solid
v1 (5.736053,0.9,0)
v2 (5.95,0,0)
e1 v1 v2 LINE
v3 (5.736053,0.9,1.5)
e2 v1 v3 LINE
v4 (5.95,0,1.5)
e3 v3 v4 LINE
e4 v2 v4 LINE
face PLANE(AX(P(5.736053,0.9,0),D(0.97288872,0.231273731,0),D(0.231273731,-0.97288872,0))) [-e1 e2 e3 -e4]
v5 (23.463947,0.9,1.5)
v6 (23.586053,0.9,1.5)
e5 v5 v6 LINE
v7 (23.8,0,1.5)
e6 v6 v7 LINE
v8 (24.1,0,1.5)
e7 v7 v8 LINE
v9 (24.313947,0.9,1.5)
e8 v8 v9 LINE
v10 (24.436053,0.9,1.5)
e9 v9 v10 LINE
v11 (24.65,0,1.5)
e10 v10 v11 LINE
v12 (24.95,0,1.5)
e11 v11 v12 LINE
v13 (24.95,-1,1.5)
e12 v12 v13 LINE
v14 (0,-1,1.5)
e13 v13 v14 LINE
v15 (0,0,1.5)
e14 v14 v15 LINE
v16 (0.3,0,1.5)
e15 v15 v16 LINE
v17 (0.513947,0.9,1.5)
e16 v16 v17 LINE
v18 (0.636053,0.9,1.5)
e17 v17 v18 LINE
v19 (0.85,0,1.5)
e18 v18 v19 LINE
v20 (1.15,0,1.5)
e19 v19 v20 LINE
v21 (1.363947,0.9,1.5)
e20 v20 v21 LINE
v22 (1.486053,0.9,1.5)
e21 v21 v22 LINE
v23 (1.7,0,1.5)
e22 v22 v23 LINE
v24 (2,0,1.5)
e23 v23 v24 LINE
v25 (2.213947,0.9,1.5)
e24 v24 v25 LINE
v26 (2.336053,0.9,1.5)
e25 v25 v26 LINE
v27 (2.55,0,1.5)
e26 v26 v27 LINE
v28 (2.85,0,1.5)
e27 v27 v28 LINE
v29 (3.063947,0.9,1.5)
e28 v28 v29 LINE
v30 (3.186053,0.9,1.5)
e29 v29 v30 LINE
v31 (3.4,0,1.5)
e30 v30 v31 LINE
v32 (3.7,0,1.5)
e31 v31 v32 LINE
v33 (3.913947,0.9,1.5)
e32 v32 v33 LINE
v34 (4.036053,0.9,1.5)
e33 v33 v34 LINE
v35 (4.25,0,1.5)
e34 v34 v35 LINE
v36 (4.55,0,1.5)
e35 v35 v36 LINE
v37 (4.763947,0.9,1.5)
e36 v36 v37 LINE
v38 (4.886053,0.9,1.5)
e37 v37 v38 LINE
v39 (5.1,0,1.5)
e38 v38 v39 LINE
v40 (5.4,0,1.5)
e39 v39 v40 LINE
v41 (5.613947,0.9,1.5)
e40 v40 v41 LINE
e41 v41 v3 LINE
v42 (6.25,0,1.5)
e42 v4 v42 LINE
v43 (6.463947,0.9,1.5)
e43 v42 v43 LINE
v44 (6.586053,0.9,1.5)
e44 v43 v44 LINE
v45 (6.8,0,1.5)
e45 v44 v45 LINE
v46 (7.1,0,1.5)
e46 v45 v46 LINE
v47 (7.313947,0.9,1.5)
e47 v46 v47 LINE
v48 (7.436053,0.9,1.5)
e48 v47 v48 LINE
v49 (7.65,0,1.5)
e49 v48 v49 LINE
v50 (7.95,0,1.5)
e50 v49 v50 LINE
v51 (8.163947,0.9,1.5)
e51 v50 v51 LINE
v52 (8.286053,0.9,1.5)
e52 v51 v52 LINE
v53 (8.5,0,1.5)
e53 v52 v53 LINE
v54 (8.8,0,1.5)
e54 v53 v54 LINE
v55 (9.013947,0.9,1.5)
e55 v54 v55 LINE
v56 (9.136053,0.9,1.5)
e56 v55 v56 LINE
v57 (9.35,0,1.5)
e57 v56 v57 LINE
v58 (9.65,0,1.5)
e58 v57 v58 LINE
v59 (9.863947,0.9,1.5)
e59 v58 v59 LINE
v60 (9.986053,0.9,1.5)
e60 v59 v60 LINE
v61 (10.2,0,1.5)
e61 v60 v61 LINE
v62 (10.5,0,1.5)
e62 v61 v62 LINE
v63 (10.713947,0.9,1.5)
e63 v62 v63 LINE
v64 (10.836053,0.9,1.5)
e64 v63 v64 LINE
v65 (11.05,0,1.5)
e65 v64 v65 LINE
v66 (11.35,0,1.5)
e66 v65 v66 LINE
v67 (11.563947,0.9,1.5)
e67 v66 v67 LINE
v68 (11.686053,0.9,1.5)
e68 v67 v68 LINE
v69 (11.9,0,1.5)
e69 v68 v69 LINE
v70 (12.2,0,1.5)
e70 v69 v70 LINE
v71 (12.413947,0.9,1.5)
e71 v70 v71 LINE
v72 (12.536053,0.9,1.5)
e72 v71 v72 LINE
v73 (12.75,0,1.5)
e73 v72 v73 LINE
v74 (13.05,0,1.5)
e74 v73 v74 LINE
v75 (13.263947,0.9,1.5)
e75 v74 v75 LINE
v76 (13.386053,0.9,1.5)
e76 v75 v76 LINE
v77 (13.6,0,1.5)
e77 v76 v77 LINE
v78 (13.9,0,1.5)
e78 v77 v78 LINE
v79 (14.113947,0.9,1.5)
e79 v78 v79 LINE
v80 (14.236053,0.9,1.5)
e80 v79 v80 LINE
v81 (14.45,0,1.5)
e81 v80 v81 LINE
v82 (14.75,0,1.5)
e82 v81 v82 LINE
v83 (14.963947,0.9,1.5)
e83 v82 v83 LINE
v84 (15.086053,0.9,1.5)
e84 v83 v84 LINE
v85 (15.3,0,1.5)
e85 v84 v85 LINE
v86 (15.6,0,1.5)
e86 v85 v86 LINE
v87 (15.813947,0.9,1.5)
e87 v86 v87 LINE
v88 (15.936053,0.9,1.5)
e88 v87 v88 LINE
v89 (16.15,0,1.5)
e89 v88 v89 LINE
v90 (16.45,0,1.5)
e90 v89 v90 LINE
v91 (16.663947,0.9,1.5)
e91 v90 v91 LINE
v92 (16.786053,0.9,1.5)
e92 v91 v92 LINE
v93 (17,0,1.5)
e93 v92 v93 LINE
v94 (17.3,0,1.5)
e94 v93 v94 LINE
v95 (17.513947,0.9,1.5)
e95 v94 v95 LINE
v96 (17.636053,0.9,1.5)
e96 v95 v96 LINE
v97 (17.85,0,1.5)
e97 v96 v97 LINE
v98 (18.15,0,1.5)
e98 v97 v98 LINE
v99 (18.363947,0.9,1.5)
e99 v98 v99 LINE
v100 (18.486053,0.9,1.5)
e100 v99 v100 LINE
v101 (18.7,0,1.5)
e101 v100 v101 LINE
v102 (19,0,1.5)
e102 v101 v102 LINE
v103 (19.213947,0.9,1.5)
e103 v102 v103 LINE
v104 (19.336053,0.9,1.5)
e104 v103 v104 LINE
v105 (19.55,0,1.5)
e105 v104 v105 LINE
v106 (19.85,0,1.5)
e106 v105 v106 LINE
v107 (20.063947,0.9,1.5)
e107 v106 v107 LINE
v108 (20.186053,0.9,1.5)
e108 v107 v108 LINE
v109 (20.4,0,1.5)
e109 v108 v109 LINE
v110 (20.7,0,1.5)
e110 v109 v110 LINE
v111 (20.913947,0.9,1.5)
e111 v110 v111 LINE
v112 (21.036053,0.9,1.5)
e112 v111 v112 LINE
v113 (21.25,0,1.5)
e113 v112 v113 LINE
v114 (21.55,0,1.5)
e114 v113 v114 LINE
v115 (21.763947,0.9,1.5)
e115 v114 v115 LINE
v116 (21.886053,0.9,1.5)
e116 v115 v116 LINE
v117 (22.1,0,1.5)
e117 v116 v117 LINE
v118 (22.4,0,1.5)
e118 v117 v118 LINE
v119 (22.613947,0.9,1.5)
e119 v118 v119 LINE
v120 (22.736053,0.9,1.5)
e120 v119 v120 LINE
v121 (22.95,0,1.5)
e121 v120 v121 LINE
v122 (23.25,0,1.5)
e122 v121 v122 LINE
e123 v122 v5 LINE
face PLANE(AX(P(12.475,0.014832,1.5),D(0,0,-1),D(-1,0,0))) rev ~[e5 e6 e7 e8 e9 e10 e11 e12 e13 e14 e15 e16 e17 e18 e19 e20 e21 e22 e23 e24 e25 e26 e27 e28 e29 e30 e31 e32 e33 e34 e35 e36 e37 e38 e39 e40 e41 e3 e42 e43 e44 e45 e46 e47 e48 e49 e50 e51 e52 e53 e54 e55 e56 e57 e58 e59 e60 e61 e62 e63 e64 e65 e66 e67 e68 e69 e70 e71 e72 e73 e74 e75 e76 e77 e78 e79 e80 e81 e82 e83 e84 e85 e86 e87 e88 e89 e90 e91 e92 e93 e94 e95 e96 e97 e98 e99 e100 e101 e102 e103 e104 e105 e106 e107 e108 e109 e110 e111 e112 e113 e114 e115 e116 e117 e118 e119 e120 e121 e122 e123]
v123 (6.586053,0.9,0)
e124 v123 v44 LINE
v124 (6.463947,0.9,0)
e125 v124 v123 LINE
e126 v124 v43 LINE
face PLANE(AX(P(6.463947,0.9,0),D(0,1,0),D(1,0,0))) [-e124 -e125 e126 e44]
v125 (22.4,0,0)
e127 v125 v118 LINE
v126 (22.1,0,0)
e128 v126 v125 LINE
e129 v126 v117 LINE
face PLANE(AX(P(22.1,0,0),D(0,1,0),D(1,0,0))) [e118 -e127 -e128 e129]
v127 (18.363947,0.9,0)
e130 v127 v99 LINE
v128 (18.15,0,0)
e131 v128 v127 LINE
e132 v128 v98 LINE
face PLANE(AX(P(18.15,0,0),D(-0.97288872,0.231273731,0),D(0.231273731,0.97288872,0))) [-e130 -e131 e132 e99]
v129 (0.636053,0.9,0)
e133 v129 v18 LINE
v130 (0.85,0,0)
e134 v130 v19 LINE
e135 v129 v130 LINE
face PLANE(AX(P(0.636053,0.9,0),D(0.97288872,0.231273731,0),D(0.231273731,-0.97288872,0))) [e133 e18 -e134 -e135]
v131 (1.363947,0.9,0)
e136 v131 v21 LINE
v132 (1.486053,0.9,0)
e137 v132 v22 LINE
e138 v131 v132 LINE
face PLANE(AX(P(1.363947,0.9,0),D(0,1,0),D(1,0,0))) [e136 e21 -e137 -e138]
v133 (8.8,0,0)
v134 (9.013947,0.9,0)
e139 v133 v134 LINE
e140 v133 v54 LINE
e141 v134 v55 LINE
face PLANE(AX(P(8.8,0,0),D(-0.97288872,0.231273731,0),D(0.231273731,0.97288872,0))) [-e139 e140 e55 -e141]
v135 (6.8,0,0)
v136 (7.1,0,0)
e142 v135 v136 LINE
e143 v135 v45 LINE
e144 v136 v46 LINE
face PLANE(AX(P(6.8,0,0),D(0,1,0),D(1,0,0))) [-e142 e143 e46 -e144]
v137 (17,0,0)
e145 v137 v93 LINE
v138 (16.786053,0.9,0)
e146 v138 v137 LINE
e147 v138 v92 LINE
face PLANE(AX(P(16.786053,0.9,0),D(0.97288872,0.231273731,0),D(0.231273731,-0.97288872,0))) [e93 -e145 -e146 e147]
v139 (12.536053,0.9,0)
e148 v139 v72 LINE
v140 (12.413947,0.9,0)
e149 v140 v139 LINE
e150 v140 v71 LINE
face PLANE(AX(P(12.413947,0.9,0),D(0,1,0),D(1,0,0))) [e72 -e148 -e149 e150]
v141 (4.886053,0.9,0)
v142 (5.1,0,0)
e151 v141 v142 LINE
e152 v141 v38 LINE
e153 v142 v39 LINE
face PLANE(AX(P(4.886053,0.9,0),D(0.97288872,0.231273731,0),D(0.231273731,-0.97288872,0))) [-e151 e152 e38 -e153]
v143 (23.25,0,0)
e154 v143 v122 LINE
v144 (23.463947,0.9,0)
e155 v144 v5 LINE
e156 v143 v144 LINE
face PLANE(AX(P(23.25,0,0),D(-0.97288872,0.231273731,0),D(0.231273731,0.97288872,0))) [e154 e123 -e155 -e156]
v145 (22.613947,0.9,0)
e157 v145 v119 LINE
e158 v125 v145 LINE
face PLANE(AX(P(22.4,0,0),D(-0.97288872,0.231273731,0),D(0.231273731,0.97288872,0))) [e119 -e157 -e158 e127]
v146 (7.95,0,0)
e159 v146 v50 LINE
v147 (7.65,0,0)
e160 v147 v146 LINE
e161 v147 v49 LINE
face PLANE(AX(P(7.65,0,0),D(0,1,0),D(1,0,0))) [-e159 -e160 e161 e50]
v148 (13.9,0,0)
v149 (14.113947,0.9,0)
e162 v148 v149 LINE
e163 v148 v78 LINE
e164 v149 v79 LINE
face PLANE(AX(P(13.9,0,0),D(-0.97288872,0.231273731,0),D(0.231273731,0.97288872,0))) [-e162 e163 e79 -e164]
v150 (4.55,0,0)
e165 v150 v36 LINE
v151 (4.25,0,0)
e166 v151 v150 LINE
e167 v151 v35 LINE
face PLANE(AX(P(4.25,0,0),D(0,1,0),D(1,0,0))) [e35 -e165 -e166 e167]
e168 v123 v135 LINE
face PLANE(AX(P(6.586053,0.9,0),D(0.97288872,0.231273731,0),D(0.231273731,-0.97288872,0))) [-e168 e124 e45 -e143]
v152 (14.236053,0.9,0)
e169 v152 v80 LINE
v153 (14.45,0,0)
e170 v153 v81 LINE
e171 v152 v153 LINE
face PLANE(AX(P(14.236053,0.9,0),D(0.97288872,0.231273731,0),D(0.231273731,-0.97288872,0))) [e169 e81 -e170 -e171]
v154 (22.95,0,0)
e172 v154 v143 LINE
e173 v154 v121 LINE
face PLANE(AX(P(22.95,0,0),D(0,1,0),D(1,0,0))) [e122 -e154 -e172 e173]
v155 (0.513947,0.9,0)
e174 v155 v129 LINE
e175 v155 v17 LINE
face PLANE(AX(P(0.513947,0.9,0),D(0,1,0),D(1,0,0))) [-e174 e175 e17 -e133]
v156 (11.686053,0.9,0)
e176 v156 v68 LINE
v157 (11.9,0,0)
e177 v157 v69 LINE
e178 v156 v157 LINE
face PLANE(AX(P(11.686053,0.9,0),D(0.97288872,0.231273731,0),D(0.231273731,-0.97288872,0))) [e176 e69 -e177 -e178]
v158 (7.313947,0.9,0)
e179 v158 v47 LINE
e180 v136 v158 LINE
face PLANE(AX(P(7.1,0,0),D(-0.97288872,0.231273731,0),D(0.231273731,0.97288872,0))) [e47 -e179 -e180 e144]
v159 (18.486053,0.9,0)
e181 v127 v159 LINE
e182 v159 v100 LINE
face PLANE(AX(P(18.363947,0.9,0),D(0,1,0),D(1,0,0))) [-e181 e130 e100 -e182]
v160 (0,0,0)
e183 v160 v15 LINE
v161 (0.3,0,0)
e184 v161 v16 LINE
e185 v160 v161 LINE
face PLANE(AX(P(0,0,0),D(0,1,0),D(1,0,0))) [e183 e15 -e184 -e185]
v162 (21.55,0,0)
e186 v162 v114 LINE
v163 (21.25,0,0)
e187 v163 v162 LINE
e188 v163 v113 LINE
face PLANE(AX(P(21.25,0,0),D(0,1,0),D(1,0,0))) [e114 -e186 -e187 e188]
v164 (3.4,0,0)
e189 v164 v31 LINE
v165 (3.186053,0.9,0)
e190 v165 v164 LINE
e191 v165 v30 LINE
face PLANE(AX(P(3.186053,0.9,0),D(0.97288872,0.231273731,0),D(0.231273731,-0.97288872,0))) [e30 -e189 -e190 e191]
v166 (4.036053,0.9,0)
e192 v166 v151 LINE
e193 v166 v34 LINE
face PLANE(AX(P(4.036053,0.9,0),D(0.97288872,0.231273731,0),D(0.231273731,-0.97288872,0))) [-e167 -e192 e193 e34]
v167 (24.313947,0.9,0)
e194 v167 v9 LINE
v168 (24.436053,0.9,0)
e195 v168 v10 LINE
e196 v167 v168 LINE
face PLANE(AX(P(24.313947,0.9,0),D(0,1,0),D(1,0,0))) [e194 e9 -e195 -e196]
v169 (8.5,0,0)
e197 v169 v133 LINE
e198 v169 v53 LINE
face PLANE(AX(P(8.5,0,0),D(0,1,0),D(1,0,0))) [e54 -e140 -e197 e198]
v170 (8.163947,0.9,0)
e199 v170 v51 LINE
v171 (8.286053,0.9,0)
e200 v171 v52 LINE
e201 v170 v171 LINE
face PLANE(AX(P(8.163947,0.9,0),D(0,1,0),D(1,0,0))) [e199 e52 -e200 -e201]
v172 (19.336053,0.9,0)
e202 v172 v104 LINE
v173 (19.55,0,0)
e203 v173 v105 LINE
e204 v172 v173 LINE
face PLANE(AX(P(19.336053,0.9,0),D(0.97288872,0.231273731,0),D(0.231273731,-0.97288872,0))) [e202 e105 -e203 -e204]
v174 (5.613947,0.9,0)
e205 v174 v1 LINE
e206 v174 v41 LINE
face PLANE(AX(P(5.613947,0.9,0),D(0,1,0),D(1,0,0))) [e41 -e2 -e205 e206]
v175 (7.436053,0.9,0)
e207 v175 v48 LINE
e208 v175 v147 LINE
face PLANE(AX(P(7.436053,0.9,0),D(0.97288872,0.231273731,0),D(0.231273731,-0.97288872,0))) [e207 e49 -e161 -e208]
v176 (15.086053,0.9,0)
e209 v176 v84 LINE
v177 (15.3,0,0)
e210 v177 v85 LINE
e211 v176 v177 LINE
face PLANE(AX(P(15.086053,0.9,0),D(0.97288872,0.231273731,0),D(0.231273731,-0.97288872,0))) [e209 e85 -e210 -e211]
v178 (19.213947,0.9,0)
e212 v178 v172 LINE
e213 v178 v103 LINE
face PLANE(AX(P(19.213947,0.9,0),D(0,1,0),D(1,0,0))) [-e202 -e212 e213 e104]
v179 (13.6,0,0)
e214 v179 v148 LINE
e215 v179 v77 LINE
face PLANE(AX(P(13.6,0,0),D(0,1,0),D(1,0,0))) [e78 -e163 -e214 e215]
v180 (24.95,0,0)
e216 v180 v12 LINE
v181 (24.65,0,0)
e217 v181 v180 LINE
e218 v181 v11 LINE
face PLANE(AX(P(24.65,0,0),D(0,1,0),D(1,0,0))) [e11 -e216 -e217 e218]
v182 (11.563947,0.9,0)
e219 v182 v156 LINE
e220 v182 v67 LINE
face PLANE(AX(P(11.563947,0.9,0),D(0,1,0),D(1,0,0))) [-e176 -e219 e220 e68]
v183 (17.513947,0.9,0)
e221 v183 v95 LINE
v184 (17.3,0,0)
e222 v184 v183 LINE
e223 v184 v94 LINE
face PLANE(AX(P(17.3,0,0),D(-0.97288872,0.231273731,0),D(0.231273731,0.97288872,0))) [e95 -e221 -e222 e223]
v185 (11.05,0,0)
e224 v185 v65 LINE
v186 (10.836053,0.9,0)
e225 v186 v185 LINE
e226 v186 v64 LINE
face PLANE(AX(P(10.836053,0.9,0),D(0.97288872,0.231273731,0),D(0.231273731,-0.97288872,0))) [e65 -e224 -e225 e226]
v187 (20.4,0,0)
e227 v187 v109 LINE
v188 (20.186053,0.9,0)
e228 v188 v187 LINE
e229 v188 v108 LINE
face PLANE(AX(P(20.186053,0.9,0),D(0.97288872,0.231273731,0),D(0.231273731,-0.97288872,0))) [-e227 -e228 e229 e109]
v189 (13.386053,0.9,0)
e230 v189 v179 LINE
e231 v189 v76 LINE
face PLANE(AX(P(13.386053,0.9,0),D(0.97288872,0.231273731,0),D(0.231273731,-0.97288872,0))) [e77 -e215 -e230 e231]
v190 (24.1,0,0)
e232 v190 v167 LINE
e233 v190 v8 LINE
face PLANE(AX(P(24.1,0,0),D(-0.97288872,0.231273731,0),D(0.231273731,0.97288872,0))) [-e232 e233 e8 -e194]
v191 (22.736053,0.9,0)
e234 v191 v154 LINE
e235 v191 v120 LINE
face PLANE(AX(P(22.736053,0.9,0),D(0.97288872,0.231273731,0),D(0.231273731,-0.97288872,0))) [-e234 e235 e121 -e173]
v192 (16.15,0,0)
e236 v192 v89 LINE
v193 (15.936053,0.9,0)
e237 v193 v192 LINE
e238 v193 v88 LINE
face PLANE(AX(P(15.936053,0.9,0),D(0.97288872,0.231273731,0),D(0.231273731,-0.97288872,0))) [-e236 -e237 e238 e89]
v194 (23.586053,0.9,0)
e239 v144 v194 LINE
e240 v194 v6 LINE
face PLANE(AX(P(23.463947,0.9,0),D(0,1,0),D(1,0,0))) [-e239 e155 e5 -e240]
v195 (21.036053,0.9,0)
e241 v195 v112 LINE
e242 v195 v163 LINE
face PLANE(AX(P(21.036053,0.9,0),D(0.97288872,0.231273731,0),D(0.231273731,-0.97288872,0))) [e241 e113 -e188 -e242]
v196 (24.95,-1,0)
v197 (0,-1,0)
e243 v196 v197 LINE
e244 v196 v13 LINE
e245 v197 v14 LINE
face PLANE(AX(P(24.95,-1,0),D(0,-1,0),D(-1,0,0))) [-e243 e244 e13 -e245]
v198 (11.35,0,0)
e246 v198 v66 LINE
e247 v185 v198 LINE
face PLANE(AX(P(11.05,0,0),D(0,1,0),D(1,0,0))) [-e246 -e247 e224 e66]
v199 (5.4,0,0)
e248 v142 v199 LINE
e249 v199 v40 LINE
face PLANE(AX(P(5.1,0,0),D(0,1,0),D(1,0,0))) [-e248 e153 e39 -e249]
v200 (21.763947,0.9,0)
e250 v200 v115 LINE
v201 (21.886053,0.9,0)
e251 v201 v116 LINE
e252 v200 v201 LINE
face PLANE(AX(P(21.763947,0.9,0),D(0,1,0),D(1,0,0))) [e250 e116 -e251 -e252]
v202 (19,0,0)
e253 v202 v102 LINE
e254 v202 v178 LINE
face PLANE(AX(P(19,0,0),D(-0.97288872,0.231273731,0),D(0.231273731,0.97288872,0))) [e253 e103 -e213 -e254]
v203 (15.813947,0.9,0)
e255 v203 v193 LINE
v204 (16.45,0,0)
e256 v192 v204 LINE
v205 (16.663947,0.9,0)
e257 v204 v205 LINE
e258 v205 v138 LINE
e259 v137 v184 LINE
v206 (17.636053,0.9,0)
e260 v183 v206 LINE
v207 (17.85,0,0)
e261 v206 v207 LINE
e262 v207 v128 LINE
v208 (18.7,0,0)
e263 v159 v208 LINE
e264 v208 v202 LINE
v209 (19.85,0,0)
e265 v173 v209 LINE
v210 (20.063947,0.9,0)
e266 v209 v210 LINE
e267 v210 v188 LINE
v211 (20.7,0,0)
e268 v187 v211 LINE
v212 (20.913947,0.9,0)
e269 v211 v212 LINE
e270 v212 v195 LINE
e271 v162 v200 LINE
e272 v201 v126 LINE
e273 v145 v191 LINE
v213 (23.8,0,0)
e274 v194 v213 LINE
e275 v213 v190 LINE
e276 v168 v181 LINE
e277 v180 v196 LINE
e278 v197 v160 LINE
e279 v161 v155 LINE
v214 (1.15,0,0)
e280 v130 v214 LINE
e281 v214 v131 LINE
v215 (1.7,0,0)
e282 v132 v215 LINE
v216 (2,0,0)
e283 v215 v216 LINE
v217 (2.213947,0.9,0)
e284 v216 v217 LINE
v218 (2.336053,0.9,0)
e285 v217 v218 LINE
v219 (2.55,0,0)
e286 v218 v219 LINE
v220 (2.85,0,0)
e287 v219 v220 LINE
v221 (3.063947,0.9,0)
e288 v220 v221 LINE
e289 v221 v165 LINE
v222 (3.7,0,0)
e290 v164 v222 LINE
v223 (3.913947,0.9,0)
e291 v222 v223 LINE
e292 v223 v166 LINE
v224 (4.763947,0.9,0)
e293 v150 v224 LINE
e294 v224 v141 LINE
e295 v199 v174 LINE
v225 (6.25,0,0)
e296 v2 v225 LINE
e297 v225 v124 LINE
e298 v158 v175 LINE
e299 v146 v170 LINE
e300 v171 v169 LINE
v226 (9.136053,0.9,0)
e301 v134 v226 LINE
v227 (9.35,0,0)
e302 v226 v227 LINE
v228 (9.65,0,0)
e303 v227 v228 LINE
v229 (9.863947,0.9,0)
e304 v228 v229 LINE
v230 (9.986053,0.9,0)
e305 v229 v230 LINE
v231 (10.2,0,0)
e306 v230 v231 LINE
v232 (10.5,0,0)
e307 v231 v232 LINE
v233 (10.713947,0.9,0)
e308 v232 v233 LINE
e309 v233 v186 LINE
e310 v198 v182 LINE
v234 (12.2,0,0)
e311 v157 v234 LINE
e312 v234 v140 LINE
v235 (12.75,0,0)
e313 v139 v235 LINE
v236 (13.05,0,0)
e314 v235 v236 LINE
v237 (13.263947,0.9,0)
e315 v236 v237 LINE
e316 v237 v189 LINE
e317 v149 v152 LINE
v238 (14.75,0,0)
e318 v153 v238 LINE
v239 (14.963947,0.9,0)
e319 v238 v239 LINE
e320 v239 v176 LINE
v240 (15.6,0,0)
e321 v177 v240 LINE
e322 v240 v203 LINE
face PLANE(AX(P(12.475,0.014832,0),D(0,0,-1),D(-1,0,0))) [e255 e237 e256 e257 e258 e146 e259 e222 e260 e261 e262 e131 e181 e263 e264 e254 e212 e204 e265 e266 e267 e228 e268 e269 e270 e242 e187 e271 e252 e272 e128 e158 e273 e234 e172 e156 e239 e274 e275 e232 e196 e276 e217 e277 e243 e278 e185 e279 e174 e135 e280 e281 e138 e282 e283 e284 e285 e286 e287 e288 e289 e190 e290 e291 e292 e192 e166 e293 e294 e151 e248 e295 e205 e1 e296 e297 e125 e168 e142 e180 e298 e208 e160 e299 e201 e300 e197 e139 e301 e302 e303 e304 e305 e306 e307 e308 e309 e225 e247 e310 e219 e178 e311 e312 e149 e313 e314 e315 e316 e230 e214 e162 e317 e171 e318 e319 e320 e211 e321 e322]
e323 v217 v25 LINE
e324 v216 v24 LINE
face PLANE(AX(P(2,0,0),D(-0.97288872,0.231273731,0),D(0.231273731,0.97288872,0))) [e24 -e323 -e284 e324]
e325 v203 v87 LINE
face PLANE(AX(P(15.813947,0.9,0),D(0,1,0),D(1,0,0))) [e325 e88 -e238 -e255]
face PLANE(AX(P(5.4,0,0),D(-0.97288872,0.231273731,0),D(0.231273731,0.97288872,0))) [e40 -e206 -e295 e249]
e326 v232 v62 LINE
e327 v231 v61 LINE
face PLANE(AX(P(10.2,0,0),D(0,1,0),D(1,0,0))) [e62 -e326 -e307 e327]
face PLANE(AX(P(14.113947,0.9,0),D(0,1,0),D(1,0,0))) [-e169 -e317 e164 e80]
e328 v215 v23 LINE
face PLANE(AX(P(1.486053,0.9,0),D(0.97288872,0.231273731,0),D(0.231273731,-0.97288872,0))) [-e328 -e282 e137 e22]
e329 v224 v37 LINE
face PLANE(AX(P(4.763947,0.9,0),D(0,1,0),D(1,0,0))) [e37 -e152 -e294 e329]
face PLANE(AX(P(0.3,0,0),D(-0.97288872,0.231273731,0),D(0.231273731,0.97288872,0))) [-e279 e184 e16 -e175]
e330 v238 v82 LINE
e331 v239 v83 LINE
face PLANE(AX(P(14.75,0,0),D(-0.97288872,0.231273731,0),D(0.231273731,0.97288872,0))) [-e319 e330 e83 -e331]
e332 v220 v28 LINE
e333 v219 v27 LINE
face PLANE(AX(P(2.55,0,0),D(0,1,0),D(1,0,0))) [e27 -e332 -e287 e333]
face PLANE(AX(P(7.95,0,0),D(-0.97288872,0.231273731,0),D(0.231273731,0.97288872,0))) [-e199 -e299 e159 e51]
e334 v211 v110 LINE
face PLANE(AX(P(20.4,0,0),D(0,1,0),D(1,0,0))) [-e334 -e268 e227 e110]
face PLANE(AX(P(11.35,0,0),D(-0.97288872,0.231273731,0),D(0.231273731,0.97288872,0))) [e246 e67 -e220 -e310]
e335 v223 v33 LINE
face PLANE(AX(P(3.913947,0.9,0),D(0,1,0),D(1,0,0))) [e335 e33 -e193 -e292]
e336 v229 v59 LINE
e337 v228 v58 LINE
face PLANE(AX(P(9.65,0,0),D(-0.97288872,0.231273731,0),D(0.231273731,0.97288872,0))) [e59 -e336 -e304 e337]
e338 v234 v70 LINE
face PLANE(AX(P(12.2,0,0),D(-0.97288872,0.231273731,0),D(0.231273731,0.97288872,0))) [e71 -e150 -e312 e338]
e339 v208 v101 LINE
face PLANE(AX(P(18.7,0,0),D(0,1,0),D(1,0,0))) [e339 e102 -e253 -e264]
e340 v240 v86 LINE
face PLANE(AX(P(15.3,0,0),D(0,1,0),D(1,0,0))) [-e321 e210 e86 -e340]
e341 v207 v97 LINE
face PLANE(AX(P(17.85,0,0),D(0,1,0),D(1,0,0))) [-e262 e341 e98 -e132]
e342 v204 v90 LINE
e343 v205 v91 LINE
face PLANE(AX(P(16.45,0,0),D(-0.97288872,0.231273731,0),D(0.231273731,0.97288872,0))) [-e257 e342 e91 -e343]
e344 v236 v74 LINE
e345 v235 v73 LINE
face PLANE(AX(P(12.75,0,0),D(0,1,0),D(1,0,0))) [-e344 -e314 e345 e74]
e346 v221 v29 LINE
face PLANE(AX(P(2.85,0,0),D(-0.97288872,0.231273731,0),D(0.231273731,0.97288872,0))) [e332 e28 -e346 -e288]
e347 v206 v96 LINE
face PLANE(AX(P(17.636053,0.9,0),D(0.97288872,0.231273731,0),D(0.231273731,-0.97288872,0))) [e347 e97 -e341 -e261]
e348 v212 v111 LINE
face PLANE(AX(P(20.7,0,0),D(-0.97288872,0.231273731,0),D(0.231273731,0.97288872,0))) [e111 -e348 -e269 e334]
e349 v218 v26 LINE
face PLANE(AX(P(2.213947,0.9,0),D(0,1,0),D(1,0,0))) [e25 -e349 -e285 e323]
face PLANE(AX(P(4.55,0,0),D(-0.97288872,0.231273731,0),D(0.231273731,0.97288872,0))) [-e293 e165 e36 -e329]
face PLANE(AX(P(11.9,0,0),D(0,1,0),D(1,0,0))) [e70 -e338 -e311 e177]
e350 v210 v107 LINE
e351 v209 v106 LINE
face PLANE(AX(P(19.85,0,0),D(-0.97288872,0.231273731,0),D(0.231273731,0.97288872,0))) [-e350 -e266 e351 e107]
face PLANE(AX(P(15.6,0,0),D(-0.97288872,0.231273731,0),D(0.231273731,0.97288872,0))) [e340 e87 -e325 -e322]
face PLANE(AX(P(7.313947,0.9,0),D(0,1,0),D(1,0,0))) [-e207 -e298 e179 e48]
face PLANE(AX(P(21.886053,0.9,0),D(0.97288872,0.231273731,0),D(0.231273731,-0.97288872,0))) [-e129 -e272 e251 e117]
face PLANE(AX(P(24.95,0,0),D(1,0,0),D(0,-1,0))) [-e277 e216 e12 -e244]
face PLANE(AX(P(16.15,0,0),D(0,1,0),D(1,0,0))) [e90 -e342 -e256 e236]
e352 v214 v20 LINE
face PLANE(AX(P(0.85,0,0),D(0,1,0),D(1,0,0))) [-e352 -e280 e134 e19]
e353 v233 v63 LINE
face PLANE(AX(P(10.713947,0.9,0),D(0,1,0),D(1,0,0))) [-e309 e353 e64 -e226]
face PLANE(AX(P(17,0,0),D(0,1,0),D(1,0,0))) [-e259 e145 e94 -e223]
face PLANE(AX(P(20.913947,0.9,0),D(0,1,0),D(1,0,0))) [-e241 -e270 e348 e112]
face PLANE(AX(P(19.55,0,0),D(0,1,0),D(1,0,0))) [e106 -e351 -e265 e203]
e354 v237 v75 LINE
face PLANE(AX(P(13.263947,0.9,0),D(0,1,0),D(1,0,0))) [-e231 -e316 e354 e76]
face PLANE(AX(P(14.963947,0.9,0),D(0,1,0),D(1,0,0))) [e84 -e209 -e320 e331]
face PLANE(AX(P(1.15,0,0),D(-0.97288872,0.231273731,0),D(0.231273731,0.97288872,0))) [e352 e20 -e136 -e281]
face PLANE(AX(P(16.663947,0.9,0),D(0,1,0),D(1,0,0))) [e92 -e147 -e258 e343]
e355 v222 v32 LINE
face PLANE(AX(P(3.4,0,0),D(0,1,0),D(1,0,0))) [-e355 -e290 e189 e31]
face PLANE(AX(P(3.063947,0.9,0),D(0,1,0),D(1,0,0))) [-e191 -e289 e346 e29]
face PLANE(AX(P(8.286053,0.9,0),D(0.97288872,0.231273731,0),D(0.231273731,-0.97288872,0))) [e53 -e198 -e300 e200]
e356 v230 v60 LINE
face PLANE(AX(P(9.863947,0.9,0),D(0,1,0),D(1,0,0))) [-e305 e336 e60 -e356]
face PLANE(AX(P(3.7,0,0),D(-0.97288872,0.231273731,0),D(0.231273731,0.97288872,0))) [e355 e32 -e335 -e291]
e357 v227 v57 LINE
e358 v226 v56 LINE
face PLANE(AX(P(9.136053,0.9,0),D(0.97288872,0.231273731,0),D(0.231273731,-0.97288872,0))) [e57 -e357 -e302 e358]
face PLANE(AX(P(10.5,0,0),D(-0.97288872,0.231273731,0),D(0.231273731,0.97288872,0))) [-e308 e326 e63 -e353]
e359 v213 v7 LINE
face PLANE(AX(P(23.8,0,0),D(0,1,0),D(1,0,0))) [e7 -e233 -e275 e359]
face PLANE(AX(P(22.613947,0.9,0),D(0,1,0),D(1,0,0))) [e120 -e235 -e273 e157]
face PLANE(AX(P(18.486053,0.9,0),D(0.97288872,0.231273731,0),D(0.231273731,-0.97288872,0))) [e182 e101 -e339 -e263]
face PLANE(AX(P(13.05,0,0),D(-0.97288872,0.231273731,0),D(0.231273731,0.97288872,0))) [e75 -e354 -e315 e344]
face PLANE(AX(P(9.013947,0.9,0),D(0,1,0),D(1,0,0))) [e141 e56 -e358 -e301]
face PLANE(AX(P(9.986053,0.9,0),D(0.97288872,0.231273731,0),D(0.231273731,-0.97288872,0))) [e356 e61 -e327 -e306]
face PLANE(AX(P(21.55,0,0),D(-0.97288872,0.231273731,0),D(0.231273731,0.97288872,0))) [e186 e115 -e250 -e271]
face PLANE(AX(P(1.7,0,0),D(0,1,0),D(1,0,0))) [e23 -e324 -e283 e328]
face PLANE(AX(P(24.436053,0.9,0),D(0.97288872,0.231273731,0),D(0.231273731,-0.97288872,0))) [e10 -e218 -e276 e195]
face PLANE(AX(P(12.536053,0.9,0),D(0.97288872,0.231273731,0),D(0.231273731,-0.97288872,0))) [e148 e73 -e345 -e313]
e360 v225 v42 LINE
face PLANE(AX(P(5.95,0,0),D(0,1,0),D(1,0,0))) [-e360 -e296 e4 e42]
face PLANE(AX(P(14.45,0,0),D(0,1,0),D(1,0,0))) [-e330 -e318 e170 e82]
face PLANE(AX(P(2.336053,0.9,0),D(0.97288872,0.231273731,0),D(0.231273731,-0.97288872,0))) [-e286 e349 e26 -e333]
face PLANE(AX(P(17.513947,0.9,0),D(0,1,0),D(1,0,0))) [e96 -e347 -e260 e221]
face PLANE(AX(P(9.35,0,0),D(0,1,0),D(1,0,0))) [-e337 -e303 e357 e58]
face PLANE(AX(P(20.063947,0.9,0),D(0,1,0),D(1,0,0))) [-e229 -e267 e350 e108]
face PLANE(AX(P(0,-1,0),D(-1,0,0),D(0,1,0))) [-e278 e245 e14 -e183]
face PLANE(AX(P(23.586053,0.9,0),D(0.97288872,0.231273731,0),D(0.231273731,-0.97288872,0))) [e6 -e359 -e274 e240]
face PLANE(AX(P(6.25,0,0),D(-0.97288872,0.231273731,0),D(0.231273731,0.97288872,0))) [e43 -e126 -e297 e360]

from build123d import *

# Parameters (mm, degrees)
BOSS_EXTRUDE1_DEPTH = 1.5


with BuildPart() as part:
    # Sketch1 → Boss-Extrude1 (new body)
    with BuildSketch(Plane.XY):
        Polygon((0, 0), (0.3, 0), (0.513946728, 0.9), (0.636053272, 0.9), (0.85, 0), (1.15, 0), (1.363946728, 0.9), (1.486053272, 0.9), (1.7, 0), (2, 0), (2.213946728, 0.9), (2.336053272, 0.9), (2.55, 0), (2.85, 0), (3.063946728, 0.9), (3.186053272, 0.9), (3.4, 0), (3.7, 0), (3.913946728, 0.9), (4.036053272, 0.9), (4.25, 0), (4.55, 0), (4.763946728, 0.9), (4.886053272, 0.9), (5.1, 0), (5.4, 0), (5.613946728, 0.9), (5.736053272, 0.9), (5.95, 0), (6.25, 0), (6.463946728, 0.9), (6.586053272, 0.9), (6.8, 0), (7.1, 0), (7.313946728, 0.9), (7.436053272, 0.9), (7.65, 0), (7.95, 0), (8.163946728, 0.9), (8.286053272, 0.9), (8.5, 0), (8.8, 0), (9.013946728, 0.9), (9.136053272, 0.9), (9.35, 0), (9.65, 0), (9.863946728, 0.9), (9.986053272, 0.9), (10.2, 0), (10.5, 0), (10.713946728, 0.9), (10.836053272, 0.9), (11.05, 0), (11.35, 0), (11.563946728, 0.9), (11.686053272, 0.9), (11.9, 0), (12.2, 0), (12.413946728, 0.9), (12.536053272, 0.9), (12.75, 0), (13.05, 0), (13.263946728, 0.9), (13.386053272, 0.9), (13.6, 0), (13.9, 0), (14.113946728, 0.9), (14.236053272, 0.9), (14.45, 0), (14.75, 0), (14.963946728, 0.9), (15.086053272, 0.9), (15.3, 0), (15.6, 0), (15.813946728, 0.9), (15.936053272, 0.9), (16.15, 0), (16.45, 0), (16.663946728, 0.9), (16.786053272, 0.9), (17, 0), (17.3, 0), (17.513946728, 0.9), (17.636053272, 0.9), (17.85, 0), (18.15, 0), (18.363946728, 0.9), (18.486053272, 0.9), (18.7, 0), (19, 0), (19.213946728, 0.9), (19.336053272, 0.9), (19.55, 0), (19.85, 0), (20.063946728, 0.9), (20.186053272, 0.9), (20.4, 0), (20.7, 0), (20.913946728, 0.9), (21.036053272, 0.9), (21.25, 0), (21.55, 0), (21.763946728, 0.9), (21.886053272, 0.9), (22.1, 0), (22.4, 0), (22.613946728, 0.9), (22.736053272, 0.9), (22.95, 0), (23.25, 0), (23.463946728, 0.9), (23.586053272, 0.9), (23.8, 0), (24.1, 0), (24.313946728, 0.9), (24.436053272, 0.9), (24.65, 0), (24.95, 0), (24.95, -1), (0, -1), align=None)
    extrude(amount=BOSS_EXTRUDE1_DEPTH)


solid = part.part
